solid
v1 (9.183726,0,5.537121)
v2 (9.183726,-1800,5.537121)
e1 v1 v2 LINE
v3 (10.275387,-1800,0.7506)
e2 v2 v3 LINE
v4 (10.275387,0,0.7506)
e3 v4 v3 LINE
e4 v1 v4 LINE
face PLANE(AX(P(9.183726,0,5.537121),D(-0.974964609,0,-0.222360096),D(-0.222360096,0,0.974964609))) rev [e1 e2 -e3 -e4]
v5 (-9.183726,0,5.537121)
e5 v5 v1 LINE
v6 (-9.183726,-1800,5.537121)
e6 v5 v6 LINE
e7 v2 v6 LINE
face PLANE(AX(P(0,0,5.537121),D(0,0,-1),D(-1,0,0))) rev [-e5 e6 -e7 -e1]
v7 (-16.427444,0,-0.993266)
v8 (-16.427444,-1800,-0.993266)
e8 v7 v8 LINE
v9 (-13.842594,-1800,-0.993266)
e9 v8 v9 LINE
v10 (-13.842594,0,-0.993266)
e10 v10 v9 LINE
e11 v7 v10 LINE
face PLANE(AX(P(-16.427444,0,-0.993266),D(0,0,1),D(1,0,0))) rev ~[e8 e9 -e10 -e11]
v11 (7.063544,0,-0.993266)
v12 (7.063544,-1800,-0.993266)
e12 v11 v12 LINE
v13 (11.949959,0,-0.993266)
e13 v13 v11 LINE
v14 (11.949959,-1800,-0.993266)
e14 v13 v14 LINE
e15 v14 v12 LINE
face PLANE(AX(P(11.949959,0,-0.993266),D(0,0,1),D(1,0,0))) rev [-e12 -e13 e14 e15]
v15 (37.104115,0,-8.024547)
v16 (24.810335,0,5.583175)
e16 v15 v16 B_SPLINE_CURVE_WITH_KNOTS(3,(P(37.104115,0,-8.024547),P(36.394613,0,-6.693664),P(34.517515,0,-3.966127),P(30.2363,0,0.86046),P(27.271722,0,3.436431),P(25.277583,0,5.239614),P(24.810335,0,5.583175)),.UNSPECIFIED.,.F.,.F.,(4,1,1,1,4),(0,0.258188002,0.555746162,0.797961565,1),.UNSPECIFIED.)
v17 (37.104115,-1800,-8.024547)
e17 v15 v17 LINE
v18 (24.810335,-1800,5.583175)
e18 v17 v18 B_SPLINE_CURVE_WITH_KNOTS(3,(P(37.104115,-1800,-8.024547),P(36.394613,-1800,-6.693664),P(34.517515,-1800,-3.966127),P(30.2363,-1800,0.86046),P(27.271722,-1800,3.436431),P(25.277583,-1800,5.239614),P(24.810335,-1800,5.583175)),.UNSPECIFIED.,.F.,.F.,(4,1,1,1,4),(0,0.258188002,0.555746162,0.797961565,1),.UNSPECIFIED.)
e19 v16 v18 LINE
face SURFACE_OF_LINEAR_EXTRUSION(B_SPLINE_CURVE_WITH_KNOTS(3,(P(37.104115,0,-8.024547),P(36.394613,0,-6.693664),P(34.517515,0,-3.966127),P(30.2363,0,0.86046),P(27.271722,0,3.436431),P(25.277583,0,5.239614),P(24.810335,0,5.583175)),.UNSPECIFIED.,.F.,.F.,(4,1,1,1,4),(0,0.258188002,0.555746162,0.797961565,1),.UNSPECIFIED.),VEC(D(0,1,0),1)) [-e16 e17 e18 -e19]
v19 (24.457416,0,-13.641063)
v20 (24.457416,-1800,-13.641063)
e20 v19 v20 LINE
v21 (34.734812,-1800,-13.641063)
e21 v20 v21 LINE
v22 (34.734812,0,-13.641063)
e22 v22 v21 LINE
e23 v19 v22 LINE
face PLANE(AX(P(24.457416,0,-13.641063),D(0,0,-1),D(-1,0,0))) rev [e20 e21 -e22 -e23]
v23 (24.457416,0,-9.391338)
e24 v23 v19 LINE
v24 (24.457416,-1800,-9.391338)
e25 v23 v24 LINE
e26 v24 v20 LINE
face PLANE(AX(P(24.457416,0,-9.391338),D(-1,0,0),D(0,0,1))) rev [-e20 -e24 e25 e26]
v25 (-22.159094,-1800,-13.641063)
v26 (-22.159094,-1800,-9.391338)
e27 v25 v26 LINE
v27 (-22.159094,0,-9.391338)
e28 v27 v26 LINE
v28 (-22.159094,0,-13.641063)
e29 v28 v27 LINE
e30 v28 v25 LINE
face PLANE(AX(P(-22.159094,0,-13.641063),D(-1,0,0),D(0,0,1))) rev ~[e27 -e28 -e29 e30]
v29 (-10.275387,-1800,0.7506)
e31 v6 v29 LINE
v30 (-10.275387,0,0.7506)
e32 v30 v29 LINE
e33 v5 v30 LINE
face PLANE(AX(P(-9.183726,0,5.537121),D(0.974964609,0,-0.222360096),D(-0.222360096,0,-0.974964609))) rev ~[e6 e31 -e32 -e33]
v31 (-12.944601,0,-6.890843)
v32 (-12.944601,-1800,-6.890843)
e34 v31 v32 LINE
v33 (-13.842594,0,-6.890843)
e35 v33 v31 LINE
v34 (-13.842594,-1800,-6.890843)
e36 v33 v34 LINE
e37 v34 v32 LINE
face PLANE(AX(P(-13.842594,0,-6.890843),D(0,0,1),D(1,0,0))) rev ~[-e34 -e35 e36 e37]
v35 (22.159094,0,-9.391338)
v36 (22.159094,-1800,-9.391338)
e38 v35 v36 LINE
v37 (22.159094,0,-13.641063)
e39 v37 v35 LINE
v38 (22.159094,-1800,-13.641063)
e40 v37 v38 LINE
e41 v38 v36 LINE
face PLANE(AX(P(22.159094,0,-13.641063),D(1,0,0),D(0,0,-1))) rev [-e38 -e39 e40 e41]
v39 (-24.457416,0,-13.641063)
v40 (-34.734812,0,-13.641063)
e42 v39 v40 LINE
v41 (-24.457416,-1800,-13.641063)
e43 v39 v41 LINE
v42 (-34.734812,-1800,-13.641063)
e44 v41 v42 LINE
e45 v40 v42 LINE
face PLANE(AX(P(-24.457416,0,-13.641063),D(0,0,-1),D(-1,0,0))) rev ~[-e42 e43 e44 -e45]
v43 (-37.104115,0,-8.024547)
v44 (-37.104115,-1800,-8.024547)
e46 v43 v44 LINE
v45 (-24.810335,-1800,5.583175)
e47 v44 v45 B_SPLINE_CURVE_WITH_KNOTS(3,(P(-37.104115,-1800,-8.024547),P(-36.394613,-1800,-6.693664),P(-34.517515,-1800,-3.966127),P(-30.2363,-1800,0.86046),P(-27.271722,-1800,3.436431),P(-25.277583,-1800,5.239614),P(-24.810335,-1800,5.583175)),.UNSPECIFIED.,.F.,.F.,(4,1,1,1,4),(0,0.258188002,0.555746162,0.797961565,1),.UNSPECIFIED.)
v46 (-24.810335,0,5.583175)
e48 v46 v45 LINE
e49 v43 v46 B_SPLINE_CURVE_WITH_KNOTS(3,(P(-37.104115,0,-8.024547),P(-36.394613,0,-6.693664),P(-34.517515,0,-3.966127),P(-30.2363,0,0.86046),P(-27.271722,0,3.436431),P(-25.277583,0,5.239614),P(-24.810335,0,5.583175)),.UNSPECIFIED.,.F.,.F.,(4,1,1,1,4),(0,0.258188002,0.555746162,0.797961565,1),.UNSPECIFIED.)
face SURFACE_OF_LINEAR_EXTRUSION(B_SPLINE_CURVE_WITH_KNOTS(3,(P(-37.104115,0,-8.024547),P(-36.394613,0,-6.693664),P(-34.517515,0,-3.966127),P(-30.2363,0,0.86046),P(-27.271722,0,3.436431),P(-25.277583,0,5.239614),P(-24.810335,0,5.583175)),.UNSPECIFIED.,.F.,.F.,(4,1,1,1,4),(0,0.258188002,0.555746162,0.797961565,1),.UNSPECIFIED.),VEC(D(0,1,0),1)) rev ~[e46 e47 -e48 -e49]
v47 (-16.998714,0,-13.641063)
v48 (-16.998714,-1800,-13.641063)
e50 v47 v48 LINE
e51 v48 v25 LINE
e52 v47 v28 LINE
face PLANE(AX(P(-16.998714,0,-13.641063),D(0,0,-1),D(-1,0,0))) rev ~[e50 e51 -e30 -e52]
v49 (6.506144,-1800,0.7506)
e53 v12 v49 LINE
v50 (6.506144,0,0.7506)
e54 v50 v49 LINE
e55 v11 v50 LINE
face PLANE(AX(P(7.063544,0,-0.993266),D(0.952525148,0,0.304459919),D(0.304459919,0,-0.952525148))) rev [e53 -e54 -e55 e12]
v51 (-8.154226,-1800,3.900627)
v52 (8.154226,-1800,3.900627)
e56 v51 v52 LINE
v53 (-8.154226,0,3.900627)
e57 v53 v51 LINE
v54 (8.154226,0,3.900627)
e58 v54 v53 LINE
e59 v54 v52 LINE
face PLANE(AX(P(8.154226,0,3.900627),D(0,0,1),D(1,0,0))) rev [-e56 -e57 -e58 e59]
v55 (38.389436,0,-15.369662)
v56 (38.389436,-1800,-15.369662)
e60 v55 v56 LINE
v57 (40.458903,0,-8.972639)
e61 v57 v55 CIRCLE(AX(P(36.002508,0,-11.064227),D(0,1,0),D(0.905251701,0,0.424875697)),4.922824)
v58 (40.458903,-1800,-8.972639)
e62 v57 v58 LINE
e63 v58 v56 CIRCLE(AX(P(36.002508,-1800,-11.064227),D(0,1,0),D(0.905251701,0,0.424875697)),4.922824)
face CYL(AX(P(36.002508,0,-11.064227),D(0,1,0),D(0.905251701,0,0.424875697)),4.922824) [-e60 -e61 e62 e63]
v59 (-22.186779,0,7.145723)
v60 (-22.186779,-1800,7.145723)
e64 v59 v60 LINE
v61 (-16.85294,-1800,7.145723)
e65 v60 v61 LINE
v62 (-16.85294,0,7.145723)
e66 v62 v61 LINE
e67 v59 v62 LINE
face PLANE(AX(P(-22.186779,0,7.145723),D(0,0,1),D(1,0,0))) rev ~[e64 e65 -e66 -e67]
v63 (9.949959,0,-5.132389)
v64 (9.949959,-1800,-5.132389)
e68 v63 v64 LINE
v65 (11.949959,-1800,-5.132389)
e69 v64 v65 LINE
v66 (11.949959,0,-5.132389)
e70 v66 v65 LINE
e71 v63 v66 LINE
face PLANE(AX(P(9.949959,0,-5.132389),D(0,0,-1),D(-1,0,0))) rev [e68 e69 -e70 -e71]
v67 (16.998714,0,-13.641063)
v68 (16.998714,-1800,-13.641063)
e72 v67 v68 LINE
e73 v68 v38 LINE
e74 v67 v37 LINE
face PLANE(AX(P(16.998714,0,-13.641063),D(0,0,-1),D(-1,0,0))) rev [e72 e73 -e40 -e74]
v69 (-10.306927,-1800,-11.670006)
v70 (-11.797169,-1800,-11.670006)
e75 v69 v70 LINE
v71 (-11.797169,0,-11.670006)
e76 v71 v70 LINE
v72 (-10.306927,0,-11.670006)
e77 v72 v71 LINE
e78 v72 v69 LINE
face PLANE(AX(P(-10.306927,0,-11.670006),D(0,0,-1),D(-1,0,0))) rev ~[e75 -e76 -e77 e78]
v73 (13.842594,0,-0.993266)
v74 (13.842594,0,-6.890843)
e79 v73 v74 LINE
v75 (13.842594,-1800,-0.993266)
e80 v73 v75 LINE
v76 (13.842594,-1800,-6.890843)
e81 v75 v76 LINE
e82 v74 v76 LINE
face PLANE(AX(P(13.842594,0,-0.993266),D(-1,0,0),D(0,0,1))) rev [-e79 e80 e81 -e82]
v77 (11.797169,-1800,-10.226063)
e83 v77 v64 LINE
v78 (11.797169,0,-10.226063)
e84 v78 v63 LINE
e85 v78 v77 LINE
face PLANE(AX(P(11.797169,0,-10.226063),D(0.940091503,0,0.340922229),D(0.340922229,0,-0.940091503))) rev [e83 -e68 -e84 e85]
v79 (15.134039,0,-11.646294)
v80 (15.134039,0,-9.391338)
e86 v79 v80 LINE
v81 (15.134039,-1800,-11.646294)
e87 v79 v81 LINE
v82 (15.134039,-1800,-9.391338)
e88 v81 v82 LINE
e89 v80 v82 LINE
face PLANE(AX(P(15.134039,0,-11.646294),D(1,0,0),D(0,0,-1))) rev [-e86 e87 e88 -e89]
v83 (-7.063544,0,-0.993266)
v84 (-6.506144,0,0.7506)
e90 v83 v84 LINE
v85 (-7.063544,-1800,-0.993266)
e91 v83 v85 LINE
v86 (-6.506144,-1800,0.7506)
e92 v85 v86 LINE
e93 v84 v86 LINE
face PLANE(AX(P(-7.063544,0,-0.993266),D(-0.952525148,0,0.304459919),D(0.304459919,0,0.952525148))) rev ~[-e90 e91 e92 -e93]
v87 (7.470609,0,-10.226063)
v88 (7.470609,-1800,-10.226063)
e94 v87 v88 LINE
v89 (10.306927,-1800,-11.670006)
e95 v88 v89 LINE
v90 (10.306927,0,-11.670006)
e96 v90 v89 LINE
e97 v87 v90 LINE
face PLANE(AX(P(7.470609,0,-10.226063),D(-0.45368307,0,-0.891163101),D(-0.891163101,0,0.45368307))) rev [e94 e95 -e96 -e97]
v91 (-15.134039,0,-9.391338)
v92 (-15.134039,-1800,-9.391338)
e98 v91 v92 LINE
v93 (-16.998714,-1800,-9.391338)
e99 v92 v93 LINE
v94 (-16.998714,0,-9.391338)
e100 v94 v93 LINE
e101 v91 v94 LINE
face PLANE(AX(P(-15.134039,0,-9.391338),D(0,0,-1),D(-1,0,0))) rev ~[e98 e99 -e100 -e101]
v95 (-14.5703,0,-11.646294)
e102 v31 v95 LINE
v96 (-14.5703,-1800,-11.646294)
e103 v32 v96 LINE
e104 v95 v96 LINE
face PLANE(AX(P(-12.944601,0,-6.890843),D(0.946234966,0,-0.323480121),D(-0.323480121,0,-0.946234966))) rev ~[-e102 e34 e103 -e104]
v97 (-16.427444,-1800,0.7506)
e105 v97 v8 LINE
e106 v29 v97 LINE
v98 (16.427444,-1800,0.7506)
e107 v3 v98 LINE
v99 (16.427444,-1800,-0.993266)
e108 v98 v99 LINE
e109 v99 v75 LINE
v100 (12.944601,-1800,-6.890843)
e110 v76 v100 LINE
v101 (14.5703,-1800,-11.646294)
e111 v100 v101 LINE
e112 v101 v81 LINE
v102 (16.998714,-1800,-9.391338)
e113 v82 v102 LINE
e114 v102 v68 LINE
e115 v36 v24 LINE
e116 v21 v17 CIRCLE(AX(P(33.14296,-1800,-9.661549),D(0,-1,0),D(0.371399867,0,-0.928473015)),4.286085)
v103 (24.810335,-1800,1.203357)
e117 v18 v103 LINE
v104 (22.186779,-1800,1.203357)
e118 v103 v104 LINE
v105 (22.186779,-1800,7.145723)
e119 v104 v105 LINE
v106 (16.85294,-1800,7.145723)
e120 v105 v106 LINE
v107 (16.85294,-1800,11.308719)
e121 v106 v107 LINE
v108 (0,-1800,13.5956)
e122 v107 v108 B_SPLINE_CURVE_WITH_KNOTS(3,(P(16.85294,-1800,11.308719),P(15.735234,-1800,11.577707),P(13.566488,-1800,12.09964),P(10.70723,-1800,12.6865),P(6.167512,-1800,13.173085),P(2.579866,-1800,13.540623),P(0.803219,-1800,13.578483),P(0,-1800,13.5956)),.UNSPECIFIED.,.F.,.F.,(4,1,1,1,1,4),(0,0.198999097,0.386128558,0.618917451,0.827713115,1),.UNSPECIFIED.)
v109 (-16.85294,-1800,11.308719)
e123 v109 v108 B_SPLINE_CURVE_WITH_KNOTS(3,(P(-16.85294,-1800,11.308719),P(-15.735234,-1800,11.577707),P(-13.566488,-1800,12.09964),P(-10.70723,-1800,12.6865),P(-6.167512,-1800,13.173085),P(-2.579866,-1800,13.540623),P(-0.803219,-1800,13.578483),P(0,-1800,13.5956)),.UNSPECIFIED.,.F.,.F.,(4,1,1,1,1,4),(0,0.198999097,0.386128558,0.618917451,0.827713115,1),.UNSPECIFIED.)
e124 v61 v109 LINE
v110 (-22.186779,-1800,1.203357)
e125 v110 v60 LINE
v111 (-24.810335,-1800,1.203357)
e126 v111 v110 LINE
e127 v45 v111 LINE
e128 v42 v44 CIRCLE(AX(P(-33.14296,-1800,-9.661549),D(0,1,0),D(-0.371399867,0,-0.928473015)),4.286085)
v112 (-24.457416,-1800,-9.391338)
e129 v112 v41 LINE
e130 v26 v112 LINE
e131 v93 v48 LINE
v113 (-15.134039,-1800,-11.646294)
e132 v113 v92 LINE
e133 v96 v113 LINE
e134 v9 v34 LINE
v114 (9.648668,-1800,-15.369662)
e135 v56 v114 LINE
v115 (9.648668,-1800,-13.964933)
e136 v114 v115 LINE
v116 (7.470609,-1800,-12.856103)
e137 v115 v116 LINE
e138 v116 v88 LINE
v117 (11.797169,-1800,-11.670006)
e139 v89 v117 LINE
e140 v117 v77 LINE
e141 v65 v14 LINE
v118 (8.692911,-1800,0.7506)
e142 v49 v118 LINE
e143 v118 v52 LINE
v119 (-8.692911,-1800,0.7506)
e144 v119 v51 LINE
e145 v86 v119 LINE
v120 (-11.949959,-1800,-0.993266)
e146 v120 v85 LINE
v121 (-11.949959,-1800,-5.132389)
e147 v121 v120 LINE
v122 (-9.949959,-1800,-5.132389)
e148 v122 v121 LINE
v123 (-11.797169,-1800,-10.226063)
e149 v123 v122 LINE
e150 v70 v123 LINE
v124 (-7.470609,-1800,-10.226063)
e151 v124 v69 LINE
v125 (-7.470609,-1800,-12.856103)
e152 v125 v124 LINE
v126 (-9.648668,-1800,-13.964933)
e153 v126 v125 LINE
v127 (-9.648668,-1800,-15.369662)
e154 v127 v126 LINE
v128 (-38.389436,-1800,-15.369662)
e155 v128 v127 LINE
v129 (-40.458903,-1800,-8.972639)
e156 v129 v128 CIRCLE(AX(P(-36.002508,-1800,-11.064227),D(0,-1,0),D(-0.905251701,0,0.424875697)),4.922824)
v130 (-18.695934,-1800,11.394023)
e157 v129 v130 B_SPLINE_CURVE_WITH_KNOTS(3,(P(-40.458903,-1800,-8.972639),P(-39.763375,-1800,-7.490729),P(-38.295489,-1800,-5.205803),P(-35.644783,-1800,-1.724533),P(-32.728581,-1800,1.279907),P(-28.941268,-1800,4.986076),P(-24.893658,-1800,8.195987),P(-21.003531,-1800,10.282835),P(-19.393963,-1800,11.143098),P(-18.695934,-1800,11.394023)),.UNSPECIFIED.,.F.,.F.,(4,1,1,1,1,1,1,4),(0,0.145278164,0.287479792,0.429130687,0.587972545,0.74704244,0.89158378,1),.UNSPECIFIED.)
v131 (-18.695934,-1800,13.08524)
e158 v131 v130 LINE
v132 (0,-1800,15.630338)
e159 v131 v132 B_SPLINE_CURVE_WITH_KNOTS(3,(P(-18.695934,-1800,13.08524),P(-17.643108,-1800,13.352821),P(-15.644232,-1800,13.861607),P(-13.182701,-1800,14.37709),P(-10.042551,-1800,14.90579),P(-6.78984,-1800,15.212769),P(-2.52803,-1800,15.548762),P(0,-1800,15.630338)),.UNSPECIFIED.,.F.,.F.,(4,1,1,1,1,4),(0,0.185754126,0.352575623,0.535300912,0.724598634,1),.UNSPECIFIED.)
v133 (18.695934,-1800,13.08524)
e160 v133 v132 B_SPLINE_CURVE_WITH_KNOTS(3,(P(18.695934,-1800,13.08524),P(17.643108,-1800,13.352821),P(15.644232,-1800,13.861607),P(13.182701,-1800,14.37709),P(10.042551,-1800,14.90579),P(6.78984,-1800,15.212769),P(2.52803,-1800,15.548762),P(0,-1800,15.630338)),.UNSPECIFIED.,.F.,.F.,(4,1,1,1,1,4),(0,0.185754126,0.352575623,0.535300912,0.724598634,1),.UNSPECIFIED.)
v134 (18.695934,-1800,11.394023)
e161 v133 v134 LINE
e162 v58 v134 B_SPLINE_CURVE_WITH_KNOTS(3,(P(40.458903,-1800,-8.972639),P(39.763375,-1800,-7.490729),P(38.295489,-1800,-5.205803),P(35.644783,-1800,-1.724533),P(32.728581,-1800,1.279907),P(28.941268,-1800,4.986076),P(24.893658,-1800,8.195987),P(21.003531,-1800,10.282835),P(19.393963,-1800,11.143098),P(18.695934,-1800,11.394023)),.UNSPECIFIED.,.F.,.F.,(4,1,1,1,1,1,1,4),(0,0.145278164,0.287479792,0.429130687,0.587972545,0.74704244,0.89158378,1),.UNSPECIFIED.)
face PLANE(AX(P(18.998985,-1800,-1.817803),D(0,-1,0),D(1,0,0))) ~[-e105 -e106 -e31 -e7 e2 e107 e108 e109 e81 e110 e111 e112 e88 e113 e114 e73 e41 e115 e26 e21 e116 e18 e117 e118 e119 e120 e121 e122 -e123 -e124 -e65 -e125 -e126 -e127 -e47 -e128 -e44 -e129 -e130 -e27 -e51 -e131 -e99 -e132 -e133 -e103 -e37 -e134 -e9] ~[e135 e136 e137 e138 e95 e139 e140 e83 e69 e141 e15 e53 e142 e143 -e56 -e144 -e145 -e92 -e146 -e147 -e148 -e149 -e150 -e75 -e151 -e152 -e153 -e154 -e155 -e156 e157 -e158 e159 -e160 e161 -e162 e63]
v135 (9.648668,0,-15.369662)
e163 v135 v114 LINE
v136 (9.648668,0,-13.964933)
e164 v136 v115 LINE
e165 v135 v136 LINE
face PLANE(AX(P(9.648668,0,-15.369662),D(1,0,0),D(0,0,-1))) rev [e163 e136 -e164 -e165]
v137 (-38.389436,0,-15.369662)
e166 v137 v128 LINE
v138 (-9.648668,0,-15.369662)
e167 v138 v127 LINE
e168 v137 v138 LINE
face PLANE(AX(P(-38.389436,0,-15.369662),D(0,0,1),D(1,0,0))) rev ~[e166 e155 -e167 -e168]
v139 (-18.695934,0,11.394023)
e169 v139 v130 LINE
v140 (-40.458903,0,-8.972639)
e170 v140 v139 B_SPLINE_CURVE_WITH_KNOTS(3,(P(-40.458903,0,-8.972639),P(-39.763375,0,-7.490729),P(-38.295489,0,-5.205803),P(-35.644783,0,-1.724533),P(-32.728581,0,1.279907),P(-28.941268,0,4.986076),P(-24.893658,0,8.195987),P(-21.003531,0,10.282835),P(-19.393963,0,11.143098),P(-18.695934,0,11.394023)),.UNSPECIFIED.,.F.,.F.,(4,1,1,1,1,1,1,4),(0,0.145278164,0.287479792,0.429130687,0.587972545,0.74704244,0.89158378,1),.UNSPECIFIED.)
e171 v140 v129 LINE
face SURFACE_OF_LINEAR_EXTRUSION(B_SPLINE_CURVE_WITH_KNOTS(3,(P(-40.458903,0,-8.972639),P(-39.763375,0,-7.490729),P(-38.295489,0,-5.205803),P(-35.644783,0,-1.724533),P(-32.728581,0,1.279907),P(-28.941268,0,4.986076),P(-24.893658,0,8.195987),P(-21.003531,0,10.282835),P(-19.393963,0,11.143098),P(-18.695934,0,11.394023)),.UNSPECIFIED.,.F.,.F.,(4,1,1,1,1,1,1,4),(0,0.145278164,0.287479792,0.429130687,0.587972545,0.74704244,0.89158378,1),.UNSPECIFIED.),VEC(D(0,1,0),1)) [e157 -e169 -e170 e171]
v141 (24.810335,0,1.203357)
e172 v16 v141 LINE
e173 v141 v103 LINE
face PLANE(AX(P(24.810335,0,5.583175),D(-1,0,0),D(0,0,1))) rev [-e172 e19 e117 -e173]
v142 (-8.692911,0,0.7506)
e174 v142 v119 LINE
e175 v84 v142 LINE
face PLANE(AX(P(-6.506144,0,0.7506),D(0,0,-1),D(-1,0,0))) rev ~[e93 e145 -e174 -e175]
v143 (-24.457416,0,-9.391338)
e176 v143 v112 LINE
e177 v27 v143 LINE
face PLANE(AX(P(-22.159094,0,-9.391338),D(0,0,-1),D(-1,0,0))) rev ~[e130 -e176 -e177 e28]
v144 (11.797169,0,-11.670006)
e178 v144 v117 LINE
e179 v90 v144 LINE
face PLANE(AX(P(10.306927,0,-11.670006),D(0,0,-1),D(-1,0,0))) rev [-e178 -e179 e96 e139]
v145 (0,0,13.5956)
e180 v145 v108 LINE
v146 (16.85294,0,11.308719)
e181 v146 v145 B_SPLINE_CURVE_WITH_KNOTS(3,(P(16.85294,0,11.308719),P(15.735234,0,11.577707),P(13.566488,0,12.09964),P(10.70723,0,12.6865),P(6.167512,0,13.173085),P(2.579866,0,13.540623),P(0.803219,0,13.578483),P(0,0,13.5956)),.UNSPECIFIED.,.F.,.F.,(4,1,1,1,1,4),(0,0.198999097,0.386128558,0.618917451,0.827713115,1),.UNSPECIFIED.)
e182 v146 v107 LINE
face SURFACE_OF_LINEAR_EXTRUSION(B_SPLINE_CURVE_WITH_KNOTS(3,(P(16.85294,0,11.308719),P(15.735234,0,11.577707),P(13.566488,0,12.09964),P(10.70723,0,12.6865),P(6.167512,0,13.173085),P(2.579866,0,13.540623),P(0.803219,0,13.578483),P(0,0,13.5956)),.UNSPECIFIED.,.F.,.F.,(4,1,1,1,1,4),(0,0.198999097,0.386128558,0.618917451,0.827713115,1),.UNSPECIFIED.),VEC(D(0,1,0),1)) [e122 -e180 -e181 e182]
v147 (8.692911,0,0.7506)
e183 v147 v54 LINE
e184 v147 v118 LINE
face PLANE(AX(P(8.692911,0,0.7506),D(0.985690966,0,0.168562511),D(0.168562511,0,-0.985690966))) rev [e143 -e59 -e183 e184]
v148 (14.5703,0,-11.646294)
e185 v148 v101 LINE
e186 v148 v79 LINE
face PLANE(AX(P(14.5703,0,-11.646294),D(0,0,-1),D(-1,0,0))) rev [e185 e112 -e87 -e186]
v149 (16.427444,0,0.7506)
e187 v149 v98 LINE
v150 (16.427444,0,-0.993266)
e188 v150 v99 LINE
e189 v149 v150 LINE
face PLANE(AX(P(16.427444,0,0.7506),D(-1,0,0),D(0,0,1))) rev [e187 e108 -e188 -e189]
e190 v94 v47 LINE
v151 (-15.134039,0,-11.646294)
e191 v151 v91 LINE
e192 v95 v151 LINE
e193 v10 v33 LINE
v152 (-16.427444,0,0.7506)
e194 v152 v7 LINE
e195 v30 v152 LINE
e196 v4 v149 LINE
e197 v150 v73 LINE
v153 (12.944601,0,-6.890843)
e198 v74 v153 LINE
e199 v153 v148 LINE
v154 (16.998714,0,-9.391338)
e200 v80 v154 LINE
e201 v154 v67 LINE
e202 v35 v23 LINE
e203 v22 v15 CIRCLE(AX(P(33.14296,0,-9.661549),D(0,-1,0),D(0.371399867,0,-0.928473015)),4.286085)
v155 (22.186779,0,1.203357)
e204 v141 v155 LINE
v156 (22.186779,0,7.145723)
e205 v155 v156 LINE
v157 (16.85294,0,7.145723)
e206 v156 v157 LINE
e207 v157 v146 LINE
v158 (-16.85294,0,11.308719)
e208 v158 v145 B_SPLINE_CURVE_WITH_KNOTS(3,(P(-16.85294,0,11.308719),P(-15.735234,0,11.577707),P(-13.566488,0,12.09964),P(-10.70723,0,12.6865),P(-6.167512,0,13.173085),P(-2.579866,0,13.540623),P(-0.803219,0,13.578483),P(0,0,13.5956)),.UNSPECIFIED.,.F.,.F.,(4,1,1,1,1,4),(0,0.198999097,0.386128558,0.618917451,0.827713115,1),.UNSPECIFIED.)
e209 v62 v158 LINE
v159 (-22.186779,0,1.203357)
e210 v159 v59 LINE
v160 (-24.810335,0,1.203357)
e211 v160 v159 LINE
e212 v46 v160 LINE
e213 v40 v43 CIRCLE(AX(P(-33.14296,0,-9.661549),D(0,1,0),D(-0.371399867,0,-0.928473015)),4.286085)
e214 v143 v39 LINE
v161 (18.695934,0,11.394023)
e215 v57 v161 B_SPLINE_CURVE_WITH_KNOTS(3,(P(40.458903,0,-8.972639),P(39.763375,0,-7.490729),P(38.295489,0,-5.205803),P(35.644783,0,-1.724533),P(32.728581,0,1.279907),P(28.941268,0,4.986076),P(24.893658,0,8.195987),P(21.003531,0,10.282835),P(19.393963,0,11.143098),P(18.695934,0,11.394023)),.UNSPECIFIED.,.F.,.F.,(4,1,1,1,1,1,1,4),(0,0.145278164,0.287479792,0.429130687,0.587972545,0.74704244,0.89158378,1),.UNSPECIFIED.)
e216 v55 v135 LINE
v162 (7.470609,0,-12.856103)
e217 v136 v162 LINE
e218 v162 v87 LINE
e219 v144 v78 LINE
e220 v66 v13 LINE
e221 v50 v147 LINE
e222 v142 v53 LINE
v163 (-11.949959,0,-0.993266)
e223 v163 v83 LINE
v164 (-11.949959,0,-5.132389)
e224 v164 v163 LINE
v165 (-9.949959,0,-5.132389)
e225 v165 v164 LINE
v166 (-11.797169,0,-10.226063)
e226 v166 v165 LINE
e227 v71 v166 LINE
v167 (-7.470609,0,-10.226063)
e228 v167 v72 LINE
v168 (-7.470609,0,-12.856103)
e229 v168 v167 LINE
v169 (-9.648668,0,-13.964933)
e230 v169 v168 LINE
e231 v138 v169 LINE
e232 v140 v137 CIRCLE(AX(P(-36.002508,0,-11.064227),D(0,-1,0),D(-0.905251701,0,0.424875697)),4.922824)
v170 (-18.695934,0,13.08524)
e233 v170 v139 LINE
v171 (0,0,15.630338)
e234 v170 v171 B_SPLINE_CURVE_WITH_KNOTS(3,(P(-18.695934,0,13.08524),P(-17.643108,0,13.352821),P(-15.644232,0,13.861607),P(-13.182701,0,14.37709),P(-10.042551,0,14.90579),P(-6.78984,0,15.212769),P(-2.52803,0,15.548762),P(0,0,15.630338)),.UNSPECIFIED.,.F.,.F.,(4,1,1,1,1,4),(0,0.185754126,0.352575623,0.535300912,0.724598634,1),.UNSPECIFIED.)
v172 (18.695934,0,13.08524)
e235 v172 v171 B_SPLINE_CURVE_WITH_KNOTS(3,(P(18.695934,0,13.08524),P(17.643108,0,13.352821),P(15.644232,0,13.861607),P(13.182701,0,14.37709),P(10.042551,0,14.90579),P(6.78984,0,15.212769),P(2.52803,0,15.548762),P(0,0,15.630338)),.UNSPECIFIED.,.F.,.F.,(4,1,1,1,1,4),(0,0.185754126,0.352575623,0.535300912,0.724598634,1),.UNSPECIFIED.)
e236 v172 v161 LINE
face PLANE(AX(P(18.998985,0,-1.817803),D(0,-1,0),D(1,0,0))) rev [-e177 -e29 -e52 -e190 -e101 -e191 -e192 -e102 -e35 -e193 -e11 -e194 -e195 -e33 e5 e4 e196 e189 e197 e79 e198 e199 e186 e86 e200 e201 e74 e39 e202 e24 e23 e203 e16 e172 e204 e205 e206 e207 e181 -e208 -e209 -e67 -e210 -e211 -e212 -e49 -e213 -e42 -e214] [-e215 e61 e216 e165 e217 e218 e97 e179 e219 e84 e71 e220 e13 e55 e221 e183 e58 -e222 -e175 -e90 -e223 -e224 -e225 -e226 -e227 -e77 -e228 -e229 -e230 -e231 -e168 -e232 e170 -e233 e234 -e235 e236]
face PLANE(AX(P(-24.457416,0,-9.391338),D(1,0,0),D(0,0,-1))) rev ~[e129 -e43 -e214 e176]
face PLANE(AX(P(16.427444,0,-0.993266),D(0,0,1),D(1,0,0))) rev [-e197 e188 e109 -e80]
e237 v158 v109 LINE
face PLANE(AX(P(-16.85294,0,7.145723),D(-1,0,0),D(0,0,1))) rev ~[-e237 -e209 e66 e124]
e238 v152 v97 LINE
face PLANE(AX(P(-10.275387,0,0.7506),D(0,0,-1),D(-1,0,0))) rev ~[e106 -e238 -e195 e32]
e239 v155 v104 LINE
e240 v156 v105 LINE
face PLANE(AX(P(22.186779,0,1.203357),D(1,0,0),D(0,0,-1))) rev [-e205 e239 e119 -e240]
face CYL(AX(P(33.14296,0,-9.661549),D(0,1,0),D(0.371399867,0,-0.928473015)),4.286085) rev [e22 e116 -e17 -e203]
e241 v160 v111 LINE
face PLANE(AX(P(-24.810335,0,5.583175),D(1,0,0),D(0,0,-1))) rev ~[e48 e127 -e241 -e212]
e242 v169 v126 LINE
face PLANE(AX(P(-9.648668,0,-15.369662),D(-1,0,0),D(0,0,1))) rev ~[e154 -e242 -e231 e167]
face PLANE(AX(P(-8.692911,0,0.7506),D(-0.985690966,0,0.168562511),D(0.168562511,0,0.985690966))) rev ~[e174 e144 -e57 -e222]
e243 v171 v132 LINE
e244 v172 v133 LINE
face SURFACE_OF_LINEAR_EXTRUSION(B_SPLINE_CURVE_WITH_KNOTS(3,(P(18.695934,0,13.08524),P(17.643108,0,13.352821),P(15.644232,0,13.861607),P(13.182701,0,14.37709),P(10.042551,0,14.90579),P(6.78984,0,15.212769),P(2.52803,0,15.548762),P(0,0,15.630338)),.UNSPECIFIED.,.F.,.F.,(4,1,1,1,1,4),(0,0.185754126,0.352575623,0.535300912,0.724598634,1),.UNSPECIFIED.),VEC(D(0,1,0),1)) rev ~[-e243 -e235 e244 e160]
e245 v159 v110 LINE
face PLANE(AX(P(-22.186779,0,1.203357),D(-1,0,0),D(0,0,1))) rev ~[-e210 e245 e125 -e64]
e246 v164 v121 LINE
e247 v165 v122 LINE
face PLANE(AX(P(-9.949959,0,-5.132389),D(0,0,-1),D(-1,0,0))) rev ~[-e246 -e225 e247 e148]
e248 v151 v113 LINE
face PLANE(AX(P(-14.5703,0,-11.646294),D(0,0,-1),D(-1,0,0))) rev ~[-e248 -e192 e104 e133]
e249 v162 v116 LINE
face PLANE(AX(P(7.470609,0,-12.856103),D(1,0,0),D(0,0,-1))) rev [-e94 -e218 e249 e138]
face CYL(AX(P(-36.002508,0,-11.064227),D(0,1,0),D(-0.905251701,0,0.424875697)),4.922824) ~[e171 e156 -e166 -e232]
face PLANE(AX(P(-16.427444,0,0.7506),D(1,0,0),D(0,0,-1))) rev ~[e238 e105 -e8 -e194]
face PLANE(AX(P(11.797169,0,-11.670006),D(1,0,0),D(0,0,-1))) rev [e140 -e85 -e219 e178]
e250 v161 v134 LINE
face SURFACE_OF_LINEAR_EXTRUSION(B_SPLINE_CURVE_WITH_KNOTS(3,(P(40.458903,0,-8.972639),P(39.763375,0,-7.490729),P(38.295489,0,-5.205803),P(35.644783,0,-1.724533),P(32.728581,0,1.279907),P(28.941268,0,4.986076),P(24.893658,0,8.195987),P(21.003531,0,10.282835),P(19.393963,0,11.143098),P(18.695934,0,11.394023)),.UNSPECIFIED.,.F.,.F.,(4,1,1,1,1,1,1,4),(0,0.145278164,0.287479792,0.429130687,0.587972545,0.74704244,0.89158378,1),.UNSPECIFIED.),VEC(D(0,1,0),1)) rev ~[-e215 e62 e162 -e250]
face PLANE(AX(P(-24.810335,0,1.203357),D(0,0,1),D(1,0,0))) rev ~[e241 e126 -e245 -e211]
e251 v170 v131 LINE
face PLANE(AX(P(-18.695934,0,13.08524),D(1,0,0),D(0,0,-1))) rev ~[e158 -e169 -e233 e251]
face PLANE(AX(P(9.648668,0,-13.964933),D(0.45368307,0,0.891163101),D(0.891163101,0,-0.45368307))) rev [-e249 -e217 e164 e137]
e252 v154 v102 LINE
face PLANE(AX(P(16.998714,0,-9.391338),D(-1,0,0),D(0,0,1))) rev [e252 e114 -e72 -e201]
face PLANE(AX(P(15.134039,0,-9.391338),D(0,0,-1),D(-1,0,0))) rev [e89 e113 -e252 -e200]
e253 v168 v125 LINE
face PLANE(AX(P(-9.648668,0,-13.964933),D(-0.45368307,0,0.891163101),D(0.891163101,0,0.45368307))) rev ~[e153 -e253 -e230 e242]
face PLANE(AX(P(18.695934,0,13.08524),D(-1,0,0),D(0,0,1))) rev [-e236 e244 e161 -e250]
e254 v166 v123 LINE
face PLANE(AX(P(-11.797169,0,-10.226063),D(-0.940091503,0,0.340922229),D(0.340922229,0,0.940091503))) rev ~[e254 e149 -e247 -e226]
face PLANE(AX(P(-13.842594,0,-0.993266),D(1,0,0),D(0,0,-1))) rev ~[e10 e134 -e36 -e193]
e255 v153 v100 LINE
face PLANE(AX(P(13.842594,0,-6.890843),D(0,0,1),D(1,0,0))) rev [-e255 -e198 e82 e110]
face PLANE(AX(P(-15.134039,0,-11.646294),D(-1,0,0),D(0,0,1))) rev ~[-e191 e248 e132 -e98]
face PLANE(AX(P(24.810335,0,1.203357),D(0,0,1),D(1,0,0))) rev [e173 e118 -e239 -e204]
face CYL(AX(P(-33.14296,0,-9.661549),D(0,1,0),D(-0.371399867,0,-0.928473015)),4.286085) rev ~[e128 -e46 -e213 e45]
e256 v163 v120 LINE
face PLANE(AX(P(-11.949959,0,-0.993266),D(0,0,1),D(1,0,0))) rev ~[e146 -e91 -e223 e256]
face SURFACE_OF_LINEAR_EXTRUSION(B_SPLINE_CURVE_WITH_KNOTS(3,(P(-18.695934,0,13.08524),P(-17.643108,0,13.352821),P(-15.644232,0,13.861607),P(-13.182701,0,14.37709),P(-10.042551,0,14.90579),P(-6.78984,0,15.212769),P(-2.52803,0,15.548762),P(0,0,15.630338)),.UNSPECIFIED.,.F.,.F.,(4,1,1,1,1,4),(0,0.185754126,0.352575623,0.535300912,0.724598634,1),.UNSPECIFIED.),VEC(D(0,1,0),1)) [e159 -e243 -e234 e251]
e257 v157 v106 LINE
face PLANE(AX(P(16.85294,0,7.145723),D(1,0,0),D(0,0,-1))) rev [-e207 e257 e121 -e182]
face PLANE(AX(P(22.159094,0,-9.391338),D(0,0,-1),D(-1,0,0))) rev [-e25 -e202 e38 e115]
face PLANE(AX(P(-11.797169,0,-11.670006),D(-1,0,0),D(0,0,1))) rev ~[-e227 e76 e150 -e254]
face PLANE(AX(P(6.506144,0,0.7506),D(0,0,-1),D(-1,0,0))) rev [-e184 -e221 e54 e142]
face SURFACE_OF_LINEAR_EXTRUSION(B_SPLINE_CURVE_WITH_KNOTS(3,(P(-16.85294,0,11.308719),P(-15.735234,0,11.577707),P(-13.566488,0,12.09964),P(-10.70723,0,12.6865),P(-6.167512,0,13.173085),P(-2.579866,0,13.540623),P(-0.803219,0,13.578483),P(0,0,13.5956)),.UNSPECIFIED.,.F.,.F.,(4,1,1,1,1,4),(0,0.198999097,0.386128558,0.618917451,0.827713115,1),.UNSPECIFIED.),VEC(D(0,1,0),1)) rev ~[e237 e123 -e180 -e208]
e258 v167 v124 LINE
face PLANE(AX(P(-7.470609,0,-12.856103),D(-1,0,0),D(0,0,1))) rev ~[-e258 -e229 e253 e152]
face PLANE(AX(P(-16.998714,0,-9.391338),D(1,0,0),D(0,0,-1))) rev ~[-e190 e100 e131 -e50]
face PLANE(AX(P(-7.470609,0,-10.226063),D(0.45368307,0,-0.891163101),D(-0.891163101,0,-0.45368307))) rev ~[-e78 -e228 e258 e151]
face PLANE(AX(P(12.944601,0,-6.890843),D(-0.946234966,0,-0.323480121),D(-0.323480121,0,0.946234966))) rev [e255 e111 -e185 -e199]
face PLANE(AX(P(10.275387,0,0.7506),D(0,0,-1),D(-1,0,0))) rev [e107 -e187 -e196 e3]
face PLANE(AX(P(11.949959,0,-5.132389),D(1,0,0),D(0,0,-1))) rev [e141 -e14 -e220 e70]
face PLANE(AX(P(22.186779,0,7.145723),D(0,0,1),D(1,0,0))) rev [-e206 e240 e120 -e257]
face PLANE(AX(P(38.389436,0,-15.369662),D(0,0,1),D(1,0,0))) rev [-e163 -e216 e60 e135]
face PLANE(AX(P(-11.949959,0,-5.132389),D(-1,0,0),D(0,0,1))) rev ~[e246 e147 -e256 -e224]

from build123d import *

# Parameters (mm, degrees)
F1_DEPTH = 1800


with BuildPart() as f1:
    # F0 (on Front) → F1 (new body)
    with BuildSketch(Plane.XZ):
        with BuildLine():
            Line((-11.9499590314, -0.9932657704), (-7.0635441756, -0.9932657704))
            Line((-7.0635441756, -0.9932657704), (-6.5061444542, 0.7506000693))
            Line((-6.5061444542, 0.7506000693), (-8.6929108068, 0.7506000693))
            Line((-8.6929108068, 0.7506000693), (-8.1542262873, 3.9006270817))
            Line((-8.1542262873, 3.9006270817), (0, 3.9006270817))
            Line((0, 3.9006270817), (0, 5.5371210328))
            Line((0, 5.5371210328), (-9.1837257915, 5.5371210328))
            Line((-9.1837257915, 5.5371210328), (-10.2753872215, 0.7506000693))
            Line((-10.2753872215, 0.7506000693), (-16.4274439918, 0.7506000693))
            Line((-16.4274439918, 0.7506000693), (-16.4274439918, -0.9932657704))
            Line((-16.4274439918, -0.9932657704), (-13.84259438, -0.9932657704))
            Line((-13.84259438, -0.9932657704), (-13.84259438, -6.8908426911))
            Line((-13.84259438, -6.8908426911), (-12.944600686, -6.8908426911))
            Line((-12.944600686, -6.8908426911), (-14.5703004673, -11.646294035))
            Line((-14.5703004673, -11.646294035), (-15.134039335, -11.646294035))
            Line((-15.134039335, -11.646294035), (-15.134039335, -9.3913376331))
            Line((-15.134039335, -9.3913376331), (-16.9987138361, -9.3913376331))
            Line((-16.9987138361, -9.3913376331), (-16.9987138361, -13.6410631239))
            Line((-16.9987138361, -13.6410631239), (-22.1590939909, -13.6410631239))
            Line((-22.1590939909, -13.6410631239), (-22.1590939909, -9.3913376331))
            Line((-22.1590939909, -9.3913376331), (-24.4574155658, -9.3913376331))
            Line((-24.4574155658, -9.3913376331), (-24.4574155658, -13.6410631239))
            Line((-24.4574155658, -13.6410631239), (-34.7348116338, -13.6410631239))
            ThreePointArc((-34.7348116338, -13.6410631239), (-37.092046473, -11.3274544107), (-37.1041148901, -8.0245472491))
            add(Edge.make_bspline(
                [(-37.1041148901, -8.0245472491), (-36.3946133782, -6.6936636739), (-34.5175154095, -3.9661265733), (-30.2363003623, 0.8604598858), (-27.2717215063, 3.4364306688), (-25.2775829285, 5.2396138199), (-24.8103346676, 5.583175458)],
                knots=[0, 0, 0, 0, 0.2581880021, 0.5557461622, 0.797961565, 1, 1, 1, 1], degree=3))
            Line((-24.8103346676, 5.583175458), (-24.8103346676, 1.2033570092))
            Line((-24.8103346676, 1.2033570092), (-22.1867793205, 1.2033570092))
            Line((-22.1867793205, 1.2033570092), (-22.1867793205, 7.1457230625))
            Line((-22.1867793205, 7.1457230625), (-16.8529403361, 7.1457230625))
            Line((-16.8529403361, 7.1457230625), (-16.8529403361, 11.3087186729))
            add(Edge.make_bspline(
                [(-16.8529403361, 11.3087186729), (-15.7352336494, 11.5777072863), (-13.5664877722, 12.0996402345), (-10.7072304288, 12.6865004894), (-6.1675118665, 13.1730848009), (-2.5798656461, 13.54062294), (-0.8032193119, 13.5784831385), (0, 13.5955996811)],
                knots=[0, 0, 0, 0, 0.1989990973, 0.3861285585, 0.6189174506, 0.8277131148, 1, 1, 1, 1], degree=3))
            Line((0, 13.5955996811), (0, 15.6303381391))
            add(Edge.make_bspline(
                [(-18.6959337443, 13.0852404982), (-17.6431082138, 13.3528213695), (-15.6442324786, 13.8616073537), (-13.1827009817, 14.3770899822), (-10.0425512675, 14.905789876), (-6.7898397517, 15.212769106), (-2.5280302821, 15.5487619808), (0, 15.6303381391)],
                knots=[0, 0, 0, 0, 0.1857541258, 0.3525756234, 0.535300912, 0.7245986336, 1, 1, 1, 1], degree=3))
            Line((-18.6959337443, 13.0852404982), (-18.6959337443, 11.3940229639))
            add(Edge.make_bspline(
                [(-40.4589027166, -8.972639218), (-39.7633750797, -7.4907291417), (-38.2954891834, -5.2058033416), (-35.6447834568, -1.7245334884), (-32.7285806644, 1.2799069532), (-28.9412679332, 4.9860764252), (-24.893657796, 8.1959871128), (-21.0035314245, 10.2828347597), (-19.3939634567, 11.1430983411), (-18.6959337443, 11.3940229639)],
                knots=[0, 0, 0, 0, 0.1452781638, 0.287479792, 0.4291306869, 0.5879725448, 0.7470424398, 0.8915837803, 1, 1, 1, 1], degree=3))
            ThreePointArc((-40.4589027166, -8.972639218), (-40.6863358268, -12.5794671522), (-38.3894363831, -15.3696618609))
            Line((-38.3894363831, -15.3696618609), (-9.648668257, -15.3696618609))
            Line((-9.648668257, -15.3696618609), (-9.648668257, -13.9649328778))
            Line((-9.648668257, -13.9649328778), (-7.4706089749, -12.8561026067))
            Line((-7.4706089749, -12.8561026067), (-7.4706089749, -10.2260625572))
            Line((-7.4706089749, -10.2260625572), (-10.3069271958, -11.6700064973))
            Line((-10.3069271958, -11.6700064973), (-11.7971690437, -11.6700064973))
            Line((-11.7971690437, -11.6700064973), (-11.7971690437, -10.2260625572))
            Line((-11.7971690437, -10.2260625572), (-9.9499590314, -5.1323893131))
            Line((-9.9499590314, -5.1323893131), (-11.9499590314, -5.1323893131))
            Line((-11.9499590314, -5.1323893131), (-11.9499590314, -0.9932657704))
        make_face()
    extrude(amount=F1_DEPTH)

    # F2: F1 across plane


with BuildPart() as f1_1:
    add(f1.part)
    add(f1.part.mirror(Plane.YZ))


solid = f1_1.part
